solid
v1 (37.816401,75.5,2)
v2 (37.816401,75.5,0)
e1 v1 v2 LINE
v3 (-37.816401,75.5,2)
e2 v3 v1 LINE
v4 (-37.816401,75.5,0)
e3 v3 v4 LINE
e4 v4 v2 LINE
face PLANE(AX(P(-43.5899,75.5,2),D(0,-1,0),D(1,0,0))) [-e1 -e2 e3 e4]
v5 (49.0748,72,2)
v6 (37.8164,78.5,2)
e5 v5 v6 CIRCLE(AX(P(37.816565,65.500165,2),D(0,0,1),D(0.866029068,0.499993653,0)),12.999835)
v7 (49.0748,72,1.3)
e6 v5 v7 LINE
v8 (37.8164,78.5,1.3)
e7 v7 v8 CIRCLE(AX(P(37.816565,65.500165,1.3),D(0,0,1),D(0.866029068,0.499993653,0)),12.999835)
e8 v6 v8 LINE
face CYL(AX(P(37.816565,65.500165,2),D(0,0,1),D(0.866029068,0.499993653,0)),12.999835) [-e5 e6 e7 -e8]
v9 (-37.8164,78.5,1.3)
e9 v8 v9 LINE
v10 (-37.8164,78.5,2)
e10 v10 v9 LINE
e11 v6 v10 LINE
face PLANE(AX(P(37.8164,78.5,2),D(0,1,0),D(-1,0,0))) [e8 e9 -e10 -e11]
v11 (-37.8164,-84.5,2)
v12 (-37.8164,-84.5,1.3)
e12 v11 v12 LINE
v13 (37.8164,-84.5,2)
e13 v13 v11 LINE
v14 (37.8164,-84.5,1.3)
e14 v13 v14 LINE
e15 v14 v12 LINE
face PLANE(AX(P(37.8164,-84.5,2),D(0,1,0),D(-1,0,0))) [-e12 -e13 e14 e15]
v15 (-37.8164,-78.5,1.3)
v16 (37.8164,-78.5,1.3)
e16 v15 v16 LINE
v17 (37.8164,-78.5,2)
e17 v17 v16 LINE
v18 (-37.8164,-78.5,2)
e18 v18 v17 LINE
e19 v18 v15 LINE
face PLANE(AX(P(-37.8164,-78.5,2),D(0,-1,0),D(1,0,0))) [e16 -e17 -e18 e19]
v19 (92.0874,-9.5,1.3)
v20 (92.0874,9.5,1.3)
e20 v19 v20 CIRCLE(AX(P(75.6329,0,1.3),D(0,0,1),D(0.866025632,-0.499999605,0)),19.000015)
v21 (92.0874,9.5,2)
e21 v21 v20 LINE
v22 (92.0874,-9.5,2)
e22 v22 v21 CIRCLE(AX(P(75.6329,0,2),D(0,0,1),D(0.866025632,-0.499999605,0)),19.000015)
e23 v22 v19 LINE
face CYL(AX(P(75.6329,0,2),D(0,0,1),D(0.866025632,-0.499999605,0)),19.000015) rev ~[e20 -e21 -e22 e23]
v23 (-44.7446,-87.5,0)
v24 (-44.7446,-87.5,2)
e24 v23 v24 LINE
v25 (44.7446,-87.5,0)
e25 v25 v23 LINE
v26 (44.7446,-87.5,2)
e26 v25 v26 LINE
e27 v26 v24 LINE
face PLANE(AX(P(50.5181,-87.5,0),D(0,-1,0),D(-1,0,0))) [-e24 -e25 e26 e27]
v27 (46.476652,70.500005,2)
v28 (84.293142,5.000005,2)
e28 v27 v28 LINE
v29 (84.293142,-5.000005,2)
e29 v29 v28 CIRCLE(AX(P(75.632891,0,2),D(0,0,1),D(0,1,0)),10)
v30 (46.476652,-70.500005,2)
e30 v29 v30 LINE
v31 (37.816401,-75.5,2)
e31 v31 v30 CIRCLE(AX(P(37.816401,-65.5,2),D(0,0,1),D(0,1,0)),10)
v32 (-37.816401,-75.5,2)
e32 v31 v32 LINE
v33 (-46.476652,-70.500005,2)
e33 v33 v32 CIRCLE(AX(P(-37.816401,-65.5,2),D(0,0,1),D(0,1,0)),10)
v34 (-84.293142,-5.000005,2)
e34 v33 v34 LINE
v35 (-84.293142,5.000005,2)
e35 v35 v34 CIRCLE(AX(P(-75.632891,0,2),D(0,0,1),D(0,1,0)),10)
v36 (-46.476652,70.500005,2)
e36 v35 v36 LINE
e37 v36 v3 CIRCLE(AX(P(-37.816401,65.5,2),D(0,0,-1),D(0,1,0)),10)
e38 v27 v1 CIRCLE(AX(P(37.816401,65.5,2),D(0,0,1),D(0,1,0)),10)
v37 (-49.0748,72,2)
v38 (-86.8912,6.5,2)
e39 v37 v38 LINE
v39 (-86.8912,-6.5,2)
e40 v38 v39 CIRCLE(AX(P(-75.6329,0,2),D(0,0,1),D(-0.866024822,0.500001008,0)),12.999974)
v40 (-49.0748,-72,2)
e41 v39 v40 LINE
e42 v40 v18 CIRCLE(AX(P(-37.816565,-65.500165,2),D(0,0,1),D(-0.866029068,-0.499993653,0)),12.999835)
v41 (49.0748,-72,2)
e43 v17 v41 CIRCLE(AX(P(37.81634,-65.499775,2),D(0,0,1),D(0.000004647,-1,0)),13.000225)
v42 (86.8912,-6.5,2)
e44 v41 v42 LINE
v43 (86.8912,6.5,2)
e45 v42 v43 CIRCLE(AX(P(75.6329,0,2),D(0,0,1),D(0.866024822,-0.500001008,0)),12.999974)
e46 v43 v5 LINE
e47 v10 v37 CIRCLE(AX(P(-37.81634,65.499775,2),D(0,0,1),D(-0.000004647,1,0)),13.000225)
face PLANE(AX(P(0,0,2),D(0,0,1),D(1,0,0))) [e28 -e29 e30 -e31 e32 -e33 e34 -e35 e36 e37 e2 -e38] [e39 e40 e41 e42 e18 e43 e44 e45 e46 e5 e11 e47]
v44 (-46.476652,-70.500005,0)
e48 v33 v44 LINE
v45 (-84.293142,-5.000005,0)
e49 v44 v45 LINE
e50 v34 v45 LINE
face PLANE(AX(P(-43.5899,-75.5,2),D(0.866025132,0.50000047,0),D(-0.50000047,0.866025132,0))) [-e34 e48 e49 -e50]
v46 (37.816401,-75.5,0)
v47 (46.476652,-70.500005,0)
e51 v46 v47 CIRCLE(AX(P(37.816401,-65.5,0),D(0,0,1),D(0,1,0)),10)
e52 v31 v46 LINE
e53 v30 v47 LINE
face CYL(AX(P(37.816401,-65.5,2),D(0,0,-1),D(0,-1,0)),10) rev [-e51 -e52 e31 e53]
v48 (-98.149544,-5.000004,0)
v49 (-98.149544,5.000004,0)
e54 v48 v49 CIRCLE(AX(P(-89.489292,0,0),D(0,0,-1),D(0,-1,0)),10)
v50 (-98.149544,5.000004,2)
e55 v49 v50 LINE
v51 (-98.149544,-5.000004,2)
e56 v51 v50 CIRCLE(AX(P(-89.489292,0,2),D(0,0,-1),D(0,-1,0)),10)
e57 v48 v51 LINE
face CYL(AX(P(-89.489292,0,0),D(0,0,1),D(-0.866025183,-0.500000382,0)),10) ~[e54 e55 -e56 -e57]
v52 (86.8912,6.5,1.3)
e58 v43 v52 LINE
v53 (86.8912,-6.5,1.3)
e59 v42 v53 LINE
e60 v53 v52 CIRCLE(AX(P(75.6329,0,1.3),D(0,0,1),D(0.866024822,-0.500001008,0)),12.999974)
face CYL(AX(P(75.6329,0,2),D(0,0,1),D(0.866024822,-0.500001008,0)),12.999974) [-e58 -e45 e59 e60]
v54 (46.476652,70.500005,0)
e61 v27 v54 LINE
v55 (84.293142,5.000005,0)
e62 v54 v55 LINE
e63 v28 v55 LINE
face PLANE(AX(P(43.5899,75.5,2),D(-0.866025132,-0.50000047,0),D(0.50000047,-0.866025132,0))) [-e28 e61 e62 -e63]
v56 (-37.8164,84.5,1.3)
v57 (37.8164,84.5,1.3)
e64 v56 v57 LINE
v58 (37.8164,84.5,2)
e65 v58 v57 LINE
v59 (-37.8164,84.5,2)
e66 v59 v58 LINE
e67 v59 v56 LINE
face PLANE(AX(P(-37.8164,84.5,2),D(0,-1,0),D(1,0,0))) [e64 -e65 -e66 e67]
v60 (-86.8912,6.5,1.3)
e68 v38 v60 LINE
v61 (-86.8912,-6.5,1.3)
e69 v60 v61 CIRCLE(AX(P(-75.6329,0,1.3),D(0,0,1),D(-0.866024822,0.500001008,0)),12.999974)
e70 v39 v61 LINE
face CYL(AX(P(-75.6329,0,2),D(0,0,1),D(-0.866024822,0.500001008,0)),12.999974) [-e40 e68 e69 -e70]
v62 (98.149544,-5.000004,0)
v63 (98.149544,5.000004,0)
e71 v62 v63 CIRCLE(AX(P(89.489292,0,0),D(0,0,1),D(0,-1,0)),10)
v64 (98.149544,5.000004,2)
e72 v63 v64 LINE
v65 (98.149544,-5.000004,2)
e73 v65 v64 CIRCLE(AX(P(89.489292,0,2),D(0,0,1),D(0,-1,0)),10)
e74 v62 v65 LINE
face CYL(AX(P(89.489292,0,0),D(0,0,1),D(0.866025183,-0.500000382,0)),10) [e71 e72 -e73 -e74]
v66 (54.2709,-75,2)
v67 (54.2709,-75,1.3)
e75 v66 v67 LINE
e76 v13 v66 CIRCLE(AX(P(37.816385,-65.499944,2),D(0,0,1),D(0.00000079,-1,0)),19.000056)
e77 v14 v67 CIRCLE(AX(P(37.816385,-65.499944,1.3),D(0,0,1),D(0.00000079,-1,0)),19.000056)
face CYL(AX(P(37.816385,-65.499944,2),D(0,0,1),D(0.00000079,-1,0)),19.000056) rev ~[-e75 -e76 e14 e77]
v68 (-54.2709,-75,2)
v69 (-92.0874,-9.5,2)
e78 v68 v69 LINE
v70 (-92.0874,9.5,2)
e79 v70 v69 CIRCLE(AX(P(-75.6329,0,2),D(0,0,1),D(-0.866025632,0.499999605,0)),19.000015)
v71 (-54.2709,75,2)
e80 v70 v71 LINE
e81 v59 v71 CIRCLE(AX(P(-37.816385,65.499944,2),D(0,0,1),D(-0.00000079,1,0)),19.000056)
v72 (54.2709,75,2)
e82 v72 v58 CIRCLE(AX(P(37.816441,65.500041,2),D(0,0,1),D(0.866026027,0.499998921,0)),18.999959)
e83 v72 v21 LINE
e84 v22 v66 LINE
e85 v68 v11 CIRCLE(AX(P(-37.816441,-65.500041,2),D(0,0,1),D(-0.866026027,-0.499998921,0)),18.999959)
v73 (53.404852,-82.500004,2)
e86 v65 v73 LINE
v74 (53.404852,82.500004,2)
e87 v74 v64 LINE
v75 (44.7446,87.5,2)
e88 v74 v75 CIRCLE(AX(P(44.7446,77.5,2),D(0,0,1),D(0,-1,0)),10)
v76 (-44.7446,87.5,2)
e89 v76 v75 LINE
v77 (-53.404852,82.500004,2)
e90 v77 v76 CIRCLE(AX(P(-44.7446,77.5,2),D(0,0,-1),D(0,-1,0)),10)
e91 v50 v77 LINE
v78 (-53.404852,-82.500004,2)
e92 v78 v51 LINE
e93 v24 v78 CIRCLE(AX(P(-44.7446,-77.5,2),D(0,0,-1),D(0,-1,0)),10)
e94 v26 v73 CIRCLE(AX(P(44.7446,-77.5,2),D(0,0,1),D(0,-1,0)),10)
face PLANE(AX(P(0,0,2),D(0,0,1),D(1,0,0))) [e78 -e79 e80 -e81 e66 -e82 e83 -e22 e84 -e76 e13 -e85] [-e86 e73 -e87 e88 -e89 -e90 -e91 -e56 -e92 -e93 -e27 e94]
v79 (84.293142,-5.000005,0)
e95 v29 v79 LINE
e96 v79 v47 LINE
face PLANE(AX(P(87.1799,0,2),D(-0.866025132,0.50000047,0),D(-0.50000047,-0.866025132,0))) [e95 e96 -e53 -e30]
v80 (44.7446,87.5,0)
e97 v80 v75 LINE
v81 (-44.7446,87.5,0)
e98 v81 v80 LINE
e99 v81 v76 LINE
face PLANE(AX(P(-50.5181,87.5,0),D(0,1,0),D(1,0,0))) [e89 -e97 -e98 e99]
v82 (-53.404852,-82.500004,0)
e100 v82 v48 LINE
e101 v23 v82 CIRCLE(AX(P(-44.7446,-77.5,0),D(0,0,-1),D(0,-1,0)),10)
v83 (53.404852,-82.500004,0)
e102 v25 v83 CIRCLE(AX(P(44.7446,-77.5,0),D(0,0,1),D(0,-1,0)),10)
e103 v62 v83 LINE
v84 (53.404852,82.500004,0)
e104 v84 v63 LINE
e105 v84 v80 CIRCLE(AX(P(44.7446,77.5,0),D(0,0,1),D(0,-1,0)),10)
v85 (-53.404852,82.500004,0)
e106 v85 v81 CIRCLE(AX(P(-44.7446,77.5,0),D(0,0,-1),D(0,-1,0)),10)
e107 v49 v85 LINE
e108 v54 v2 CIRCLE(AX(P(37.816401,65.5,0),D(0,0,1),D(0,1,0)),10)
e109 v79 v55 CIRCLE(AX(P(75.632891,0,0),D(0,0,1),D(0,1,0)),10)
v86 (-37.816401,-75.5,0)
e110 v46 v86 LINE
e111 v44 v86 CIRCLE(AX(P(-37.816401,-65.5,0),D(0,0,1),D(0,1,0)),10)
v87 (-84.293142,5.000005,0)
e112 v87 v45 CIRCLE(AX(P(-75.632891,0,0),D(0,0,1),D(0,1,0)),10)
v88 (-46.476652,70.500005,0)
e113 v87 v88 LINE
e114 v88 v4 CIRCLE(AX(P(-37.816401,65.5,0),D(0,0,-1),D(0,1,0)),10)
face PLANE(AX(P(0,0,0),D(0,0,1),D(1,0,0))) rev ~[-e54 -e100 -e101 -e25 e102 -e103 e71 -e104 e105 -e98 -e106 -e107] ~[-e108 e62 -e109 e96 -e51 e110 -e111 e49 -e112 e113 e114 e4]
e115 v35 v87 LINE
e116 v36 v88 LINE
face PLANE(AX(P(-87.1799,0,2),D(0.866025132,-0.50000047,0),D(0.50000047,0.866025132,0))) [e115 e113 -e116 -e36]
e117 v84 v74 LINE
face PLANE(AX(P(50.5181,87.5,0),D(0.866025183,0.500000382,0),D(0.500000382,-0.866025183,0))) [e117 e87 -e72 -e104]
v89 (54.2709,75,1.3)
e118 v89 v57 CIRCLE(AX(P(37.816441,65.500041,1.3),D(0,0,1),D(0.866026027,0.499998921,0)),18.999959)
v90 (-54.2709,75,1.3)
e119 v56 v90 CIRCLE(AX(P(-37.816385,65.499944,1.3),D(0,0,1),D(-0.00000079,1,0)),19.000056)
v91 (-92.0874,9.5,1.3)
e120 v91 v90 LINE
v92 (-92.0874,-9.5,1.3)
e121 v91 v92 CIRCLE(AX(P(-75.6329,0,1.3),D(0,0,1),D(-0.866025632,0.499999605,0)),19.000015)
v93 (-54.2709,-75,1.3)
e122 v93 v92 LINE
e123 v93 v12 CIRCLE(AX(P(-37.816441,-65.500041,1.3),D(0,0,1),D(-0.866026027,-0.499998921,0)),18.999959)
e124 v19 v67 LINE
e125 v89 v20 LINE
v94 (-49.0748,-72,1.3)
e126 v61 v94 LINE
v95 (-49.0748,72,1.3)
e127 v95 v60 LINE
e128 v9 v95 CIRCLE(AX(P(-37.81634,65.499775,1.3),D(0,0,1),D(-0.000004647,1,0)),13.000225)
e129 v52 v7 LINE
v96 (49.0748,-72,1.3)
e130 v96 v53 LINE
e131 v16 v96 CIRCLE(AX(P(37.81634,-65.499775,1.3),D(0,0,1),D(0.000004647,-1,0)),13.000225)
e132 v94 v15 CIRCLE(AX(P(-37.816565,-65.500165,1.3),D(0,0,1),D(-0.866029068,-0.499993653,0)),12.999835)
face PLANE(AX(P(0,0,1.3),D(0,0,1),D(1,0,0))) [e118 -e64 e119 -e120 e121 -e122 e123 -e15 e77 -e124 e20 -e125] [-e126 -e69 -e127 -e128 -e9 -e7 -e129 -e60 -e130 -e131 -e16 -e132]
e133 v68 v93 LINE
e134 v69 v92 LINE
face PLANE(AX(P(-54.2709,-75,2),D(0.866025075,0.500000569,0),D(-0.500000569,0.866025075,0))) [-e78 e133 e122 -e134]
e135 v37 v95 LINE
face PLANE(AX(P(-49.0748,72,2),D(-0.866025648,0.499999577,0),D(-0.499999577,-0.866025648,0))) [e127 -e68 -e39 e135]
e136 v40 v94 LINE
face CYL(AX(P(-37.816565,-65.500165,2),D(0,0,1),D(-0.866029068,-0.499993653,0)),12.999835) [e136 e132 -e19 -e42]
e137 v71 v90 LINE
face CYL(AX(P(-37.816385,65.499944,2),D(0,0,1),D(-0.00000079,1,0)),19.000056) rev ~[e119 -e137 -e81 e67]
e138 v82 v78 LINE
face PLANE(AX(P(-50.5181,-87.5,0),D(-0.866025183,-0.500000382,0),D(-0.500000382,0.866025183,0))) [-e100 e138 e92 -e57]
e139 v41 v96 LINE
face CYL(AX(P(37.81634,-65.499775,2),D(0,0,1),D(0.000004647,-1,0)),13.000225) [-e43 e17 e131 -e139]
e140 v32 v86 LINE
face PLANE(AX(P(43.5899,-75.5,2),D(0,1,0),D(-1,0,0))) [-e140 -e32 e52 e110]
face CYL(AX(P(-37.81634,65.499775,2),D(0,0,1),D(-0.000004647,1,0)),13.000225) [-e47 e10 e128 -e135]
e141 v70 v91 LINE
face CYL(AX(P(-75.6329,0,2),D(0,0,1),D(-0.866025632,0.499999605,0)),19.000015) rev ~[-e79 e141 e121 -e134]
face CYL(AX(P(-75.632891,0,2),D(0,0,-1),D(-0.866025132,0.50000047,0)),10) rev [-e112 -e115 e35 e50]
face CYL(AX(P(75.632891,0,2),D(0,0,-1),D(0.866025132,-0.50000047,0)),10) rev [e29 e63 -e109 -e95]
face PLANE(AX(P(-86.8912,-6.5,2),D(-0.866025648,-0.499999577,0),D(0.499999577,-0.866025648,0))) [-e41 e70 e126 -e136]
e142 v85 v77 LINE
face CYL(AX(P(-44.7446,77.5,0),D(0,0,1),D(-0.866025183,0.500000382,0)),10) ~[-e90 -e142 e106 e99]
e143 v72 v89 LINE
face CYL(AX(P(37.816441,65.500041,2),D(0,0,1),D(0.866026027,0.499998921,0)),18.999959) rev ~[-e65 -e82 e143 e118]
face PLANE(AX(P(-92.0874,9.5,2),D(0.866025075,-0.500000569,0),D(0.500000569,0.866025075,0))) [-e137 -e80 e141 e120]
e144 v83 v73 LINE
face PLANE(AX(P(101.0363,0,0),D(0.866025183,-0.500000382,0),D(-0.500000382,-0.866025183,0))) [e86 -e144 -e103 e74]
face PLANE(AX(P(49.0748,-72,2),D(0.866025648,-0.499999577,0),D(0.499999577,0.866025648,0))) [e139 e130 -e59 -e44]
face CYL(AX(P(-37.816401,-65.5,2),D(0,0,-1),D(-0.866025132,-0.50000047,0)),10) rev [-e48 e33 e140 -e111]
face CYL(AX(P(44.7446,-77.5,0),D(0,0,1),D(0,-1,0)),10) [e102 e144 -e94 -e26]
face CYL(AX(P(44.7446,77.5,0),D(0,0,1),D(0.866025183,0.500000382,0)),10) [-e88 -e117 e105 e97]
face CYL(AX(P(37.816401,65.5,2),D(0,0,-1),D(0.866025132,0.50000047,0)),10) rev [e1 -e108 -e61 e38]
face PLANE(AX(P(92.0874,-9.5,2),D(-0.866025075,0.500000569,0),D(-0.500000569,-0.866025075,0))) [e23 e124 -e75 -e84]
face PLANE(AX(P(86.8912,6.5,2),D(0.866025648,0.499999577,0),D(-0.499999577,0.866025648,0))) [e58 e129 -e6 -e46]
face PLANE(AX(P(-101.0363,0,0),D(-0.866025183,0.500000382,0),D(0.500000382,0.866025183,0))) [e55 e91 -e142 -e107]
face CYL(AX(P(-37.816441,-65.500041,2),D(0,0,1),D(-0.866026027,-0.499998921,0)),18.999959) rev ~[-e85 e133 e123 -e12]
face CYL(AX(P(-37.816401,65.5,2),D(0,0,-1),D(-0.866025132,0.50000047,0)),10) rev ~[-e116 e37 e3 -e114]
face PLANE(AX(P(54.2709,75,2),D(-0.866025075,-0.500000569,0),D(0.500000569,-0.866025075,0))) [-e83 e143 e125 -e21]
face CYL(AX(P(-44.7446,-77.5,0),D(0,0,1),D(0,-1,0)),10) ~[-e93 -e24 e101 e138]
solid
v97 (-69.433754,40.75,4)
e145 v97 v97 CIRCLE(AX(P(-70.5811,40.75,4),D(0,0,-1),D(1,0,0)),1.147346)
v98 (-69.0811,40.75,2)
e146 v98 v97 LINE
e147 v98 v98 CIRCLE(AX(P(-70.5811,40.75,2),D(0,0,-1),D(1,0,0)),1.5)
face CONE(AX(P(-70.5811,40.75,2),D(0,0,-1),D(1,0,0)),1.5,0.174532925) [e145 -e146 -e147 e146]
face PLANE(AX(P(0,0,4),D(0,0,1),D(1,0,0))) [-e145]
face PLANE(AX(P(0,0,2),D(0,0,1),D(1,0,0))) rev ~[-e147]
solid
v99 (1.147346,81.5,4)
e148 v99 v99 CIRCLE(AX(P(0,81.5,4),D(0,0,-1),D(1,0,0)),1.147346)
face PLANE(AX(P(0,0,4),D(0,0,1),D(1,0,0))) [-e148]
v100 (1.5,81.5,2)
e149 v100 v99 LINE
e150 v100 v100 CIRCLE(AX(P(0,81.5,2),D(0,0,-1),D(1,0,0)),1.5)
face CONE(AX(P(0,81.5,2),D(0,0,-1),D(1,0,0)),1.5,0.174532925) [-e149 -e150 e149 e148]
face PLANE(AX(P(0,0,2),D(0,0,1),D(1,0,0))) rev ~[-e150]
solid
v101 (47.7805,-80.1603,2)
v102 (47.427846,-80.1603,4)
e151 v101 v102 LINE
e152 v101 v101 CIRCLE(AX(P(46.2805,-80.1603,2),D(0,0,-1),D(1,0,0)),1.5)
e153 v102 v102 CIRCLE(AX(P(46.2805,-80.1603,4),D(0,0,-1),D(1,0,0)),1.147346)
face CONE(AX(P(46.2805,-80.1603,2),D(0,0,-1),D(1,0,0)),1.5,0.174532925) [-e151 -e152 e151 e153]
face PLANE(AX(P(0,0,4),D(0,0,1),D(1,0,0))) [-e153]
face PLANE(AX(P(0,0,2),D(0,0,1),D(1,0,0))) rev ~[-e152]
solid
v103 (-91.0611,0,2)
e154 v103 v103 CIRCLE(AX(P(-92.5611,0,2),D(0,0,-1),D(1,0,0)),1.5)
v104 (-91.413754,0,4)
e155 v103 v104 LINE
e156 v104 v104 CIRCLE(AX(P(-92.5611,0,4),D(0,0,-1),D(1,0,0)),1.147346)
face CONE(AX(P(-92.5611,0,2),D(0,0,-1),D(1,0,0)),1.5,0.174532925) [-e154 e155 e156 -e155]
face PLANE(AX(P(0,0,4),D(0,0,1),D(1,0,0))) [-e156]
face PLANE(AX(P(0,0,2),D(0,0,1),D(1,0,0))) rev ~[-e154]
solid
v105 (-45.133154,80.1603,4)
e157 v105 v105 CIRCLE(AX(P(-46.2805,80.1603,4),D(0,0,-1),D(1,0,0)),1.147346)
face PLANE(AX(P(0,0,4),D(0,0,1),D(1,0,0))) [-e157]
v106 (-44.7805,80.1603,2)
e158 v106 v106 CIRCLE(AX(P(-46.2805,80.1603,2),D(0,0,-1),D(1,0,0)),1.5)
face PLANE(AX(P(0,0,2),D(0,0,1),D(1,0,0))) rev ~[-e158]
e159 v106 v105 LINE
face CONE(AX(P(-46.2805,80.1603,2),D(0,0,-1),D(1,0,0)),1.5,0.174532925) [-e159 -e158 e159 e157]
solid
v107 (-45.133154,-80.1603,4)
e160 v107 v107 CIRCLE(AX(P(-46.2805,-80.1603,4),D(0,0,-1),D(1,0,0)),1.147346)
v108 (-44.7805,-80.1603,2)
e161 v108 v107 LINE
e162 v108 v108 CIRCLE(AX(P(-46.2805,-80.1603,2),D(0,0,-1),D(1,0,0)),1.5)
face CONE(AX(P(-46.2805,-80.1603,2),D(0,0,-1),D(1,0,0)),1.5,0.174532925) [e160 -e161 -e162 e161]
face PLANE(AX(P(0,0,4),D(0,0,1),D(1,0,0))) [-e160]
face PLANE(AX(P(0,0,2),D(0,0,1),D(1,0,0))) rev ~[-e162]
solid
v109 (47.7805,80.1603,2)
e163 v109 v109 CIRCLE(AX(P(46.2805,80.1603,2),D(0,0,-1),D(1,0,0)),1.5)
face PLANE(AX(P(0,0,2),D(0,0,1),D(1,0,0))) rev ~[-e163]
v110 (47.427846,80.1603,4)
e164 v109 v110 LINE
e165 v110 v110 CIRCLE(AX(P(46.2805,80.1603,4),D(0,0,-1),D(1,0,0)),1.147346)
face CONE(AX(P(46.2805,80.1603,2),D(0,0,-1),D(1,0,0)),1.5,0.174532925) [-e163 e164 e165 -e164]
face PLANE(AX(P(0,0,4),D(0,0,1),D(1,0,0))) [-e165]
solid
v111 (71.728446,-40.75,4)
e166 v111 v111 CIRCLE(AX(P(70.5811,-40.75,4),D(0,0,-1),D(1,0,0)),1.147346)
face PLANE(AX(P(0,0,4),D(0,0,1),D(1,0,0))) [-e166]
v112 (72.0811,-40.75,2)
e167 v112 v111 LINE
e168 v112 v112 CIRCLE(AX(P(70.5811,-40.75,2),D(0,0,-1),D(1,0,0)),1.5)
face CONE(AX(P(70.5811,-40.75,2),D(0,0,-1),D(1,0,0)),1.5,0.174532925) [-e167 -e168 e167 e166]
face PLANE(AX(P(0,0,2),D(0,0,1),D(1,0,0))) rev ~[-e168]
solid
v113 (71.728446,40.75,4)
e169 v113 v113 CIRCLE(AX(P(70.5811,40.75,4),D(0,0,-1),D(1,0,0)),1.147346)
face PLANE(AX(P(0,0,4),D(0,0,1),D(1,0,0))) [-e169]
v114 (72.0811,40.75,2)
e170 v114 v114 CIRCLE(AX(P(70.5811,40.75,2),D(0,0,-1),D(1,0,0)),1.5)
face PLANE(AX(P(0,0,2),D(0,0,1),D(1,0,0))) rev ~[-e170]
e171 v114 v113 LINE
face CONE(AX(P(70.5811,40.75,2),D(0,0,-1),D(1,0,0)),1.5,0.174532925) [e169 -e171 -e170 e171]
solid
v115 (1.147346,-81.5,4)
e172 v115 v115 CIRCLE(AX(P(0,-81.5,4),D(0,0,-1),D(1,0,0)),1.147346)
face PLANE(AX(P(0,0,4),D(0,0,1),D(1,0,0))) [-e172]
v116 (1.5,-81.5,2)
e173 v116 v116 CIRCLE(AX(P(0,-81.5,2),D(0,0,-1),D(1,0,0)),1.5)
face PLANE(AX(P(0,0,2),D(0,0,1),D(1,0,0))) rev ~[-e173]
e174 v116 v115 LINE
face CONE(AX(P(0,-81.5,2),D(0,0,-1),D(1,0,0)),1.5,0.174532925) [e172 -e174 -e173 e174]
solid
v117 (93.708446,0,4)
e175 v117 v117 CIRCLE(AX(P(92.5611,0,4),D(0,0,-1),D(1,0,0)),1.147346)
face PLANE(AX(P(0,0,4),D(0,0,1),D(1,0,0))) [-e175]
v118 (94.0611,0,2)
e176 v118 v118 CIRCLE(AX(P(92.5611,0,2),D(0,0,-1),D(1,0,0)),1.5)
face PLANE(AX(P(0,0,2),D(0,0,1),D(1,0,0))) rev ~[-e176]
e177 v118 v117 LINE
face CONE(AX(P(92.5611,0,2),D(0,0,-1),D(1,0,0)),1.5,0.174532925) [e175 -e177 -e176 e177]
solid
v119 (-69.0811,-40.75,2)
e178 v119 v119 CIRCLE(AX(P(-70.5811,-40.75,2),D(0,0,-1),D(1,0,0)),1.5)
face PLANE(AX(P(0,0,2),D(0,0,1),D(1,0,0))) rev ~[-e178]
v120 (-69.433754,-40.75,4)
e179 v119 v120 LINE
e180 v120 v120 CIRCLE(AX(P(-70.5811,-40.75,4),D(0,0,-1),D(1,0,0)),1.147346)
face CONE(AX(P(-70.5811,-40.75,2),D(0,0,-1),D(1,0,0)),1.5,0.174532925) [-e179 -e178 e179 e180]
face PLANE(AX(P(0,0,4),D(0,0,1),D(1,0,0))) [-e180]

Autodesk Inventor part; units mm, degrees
ref_plane "YZ Plane" through (0, 0, 0) normal (1, 0, 0) x (0, 1, 0)
ref_plane "XZ Plane" through (0, 0, 0) normal (0, 1, 0) x (-1, 0, 0)
ref_plane "XY Plane" through (0, 0, 0) normal (0, 0, 1) x (1, 0, 0)
sketch "Sketch1" plane through (0, 0, 0) normal (0, 0, 1) x (1, 0, 0)
  line L0 (50.5181, -87.5) -> (-50.5181, -87.5)
  line L1 (-50.5181, -87.5) -> (-101.0363, 0)
  line L2 (-101.0363, 0) -> (-50.5181, 87.5)
  line L3 (-50.5181, 87.5) -> (50.5181, 87.5)
  line L4 (50.5181, 87.5) -> (101.0363, 0)
  line L5 (101.0363, 0) -> (50.5181, -87.5)
  point P0 (0, 0)
  point P1 (0, 0)
  dimension "d0" = 175
extrude "Extrusion1" add sketch "Sketch1" along normal blind 2
sketch "Sketch7" plane through (0, 0, 2) normal (0, 0, 1) x (1, 0, 0)
  line L0 (-50.5181, -87.5) -> (50.5181, -87.5) projected
  line L1 (50.5181, -87.5) -> (101.0363, 0) projected
  line L2 (101.0363, 0) -> (50.5181, 87.5) projected
  line L3 (50.5181, 87.5) -> (-50.5181, 87.5) projected
  line L4 (-50.5181, 87.5) -> (-101.0363, 0) projected
  line L5 (-101.0363, 0) -> (-50.5181, -87.5) projected
  line L6 (-43.5899, 75.5) -> (43.5899, 75.5)
  line L7 (43.5899, 75.5) -> (87.1799, 0)
  line L8 (87.1799, 0) -> (43.5899, -75.5)
  line L9 (43.5899, -75.5) -> (-43.5899, -75.5)
  line L10 (-43.5899, -75.5) -> (-87.1799, 0)
  line L11 (-87.1799, 0) -> (-43.5899, 75.5)
  dimension "d26" = 12
extrude "Extrusion6" cut sketch "Sketch7" against normal blind 7 contours L6 L7 L8 L9 L10 L11
fillet "Fillet2" radius 10 6 edges at (-87.1799, 0, 1) (-43.5899, -75.5, 1) (43.5899, -75.5, 1) (87.1799, 0, 1) (43.5899, 75.5, 1) (-43.5899, 75.5, 1)
fillet "Fillet3" radius 10 6 edges at (-50.5181, 87.5, 1) (50.5181, 87.5, 1) (101.0363, 0, 1) (50.5181, -87.5, 1) (-50.5181, -87.5, 1) (-101.0363, 0, 1)
sketch "Sketch9" plane through (0, 0, 2) normal (0, 0, 1) x (1, 0, 0)
  arc A0 (-98.1495, 5) -> (-98.1495, -5) centre (-89.4893, 0) ccw projected
  line L0 (-98.1495, -5) -> (-53.4049, -82.5) projected
  arc A1 (-53.4049, -82.5) -> (-44.7446, -87.5) centre (-44.7446, -77.5) ccw projected
  line L1 (-44.7446, -87.5) -> (44.7446, -87.5) projected
  arc A2 (44.7446, -87.5) -> (53.4049, -82.5) centre (44.7446, -77.5) ccw projected
  line L2 (53.4049, -82.5) -> (98.1495, -5) projected
  arc A3 (98.1495, -5) -> (98.1495, 5) centre (89.4893, 0) ccw projected
  line L3 (98.1495, 5) -> (53.4049, 82.5) projected
  arc A4 (53.4049, 82.5) -> (44.7446, 87.5) centre (44.7446, 77.5) ccw projected
  line L4 (44.7446, 87.5) -> (-44.7446, 87.5) projected
  arc A5 (-44.7446, 87.5) -> (-53.4049, 82.5) centre (-44.7446, 77.5) ccw projected
  line L5 (-53.4049, 82.5) -> (-98.1495, 5) projected
  line L6 (-84.2931, 5) -> (-46.4767, 70.5) projected
  arc A6 (-37.8164, 75.5) -> (-46.4767, 70.5) centre (-37.8164, 65.5) ccw projected
  line L7 (-37.8164, 75.5) -> (37.8164, 75.5) projected
  arc A7 (46.4767, 70.5) -> (37.8164, 75.5) centre (37.8164, 65.5) ccw projected
  line L8 (46.4767, 70.5) -> (84.2931, 5) projected
  arc A8 (84.2931, -5) -> (84.2931, 5) centre (75.6329, 0) ccw projected
  line L9 (84.2931, -5) -> (46.4767, -70.5) projected
  arc A9 (37.8164, -75.5) -> (46.4767, -70.5) centre (37.8164, -65.5) ccw projected
  line L10 (37.8164, -75.5) -> (-37.8164, -75.5) projected
  arc A10 (-46.4767, -70.5) -> (-37.8164, -75.5) centre (-37.8164, -65.5) ccw projected
  line L11 (-46.4767, -70.5) -> (-84.2931, -5) projected
  arc A11 (-84.2931, 5) -> (-84.2931, -5) centre (-75.6329, 0) ccw projected
  line L12 (-85.6329, 0) -> (-99.4893, 0) construction
  line L13 (-75.7772, 43.75) -> (-65.3849, 37.75) construction
  line L14 (-84.2931, 5) -> (-46.4767, 70.5) projected
  circle A12 centre (0, 81.5) radius 1.5
  circle A13 centre (-70.5811, 40.75) radius 1.5
  circle A14 centre (-92.5611, 0) radius 1.5
  circle A15 centre (70.5811, 40.75) radius 1.5
  circle A16 centre (0, 81.5) radius 1.5
  circle A17 centre (-46.2805, 80.1603) radius 1.5
  circle A18 centre (70.5811, -40.75) radius 1.5
  circle A19 centre (70.5811, 40.75) radius 1.5
  circle A20 centre (46.2805, 80.1603) radius 1.5
  circle A21 centre (0, -81.5) radius 1.5
  circle A22 centre (70.5811, -40.75) radius 1.5
  circle A23 centre (92.5611, 0) radius 1.5
  circle A24 centre (-70.5811, -40.75) radius 1.5
  circle A25 centre (0, -81.5) radius 1.5
  circle A26 centre (46.2805, -80.1603) radius 1.5
  circle A27 centre (-70.5811, 40.75) radius 1.5
  circle A28 centre (-70.5811, -40.75) radius 1.5
  circle A29 centre (-46.2805, -80.1603) radius 1.5
  point P0 (0, 0)
  point P1 (-70.5811, 40.75)
  dimension "d44" = 3
  dimension "d58" = 360
extrude "Extrusion8" add sketch "Sketch9" along normal blind 2 draft -10 contours A12 | A13 | A14 | A15 | A17 | A18 | A20 | A21 | A23 | A24 | A26 | A29
sketch "Sketch10" plane through (0, 0, 2) normal (0, 0, 1) x (1, 0, 0)
  arc A0 (-98.1495, 5) -> (-98.1495, -5) centre (-89.4893, 0) ccw projected
  line L0 (-98.1495, -5) -> (-53.4049, -82.5) projected
  arc A1 (-53.4049, -82.5) -> (-44.7446, -87.5) centre (-44.7446, -77.5) ccw projected
  line L1 (-44.7446, -87.5) -> (44.7446, -87.5) projected
  arc A2 (44.7446, -87.5) -> (53.4049, -82.5) centre (44.7446, -77.5) ccw projected
  line L2 (53.4049, -82.5) -> (98.1495, -5) projected
  arc A3 (98.1495, -5) -> (98.1495, 5) centre (89.4893, 0) ccw projected
  line L3 (98.1495, 5) -> (53.4049, 82.5) projected
  arc A4 (53.4049, 82.5) -> (44.7446, 87.5) centre (44.7446, 77.5) ccw projected
  line L4 (44.7446, 87.5) -> (-44.7446, 87.5) projected
  arc A5 (-44.7446, 87.5) -> (-53.4049, 82.5) centre (-44.7446, 77.5) ccw projected
  line L5 (-53.4049, 82.5) -> (-98.1495, 5) projected
  line L6 (-84.2931, 5) -> (-46.4767, 70.5) projected
  arc A6 (-37.8164, 75.5) -> (-46.4767, 70.5) centre (-37.8164, 65.5) ccw projected
  line L7 (-37.8164, 75.5) -> (37.8164, 75.5) projected
  arc A7 (46.4767, 70.5) -> (37.8164, 75.5) centre (37.8164, 65.5) ccw projected
  line L8 (46.4767, 70.5) -> (84.2931, 5) projected
  arc A8 (84.2931, -5) -> (84.2931, 5) centre (75.6329, 0) ccw projected
  line L9 (84.2931, -5) -> (46.4767, -70.5) projected
  arc A9 (37.8164, -75.5) -> (46.4767, -70.5) centre (37.8164, -65.5) ccw projected
  line L10 (37.8164, -75.5) -> (-37.8164, -75.5) projected
  arc A10 (-46.4767, -70.5) -> (-37.8164, -75.5) centre (-37.8164, -65.5) ccw projected
  line L11 (-46.4767, -70.5) -> (-84.2931, -5) projected
  arc A11 (-84.2931, 5) -> (-84.2931, -5) centre (-75.6329, 0) ccw projected
  line L12 (37.8164, 78.5) -> (-37.8164, 78.5)
  arc A12 (-37.8164, 78.5) -> (-49.0748, 72) centre (-37.8164, 65.5) ccw
  line L13 (-49.0748, 72) -> (-86.8912, 6.5)
  arc A13 (-86.8912, 6.5) -> (-86.8912, -6.5) centre (-75.6329, 0) ccw
  line L14 (-86.8912, -6.5) -> (-49.0748, -72)
  arc A14 (-49.0748, -72) -> (-37.8164, -78.5) centre (-37.8164, -65.5) ccw
  line L15 (-37.8164, -78.5) -> (37.8164, -78.5)
  arc A15 (37.8164, -78.5) -> (49.0748, -72) centre (37.8164, -65.5) ccw
  line L16 (49.0748, -72) -> (86.8912, -6.5)
  arc A16 (86.8912, -6.5) -> (86.8912, 6.5) centre (75.6329, 0) ccw
  line L17 (86.8912, 6.5) -> (49.0748, 72)
  arc A17 (49.0748, 72) -> (37.8164, 78.5) centre (37.8164, 65.5) ccw
  line L18 (-37.8164, 84.5) -> (37.8164, 84.5)
  arc A18 (54.2709, 75) -> (37.8164, 84.5) centre (37.8164, 65.5) ccw
  line L19 (54.2709, 75) -> (92.0874, 9.5)
  arc A19 (92.0874, -9.5) -> (92.0874, 9.5) centre (75.6329, 0) ccw
  line L20 (92.0874, -9.5) -> (54.2709, -75)
  arc A20 (37.8164, -84.5) -> (54.2709, -75) centre (37.8164, -65.5) ccw
  line L21 (37.8164, -84.5) -> (-37.8164, -84.5)
  arc A21 (-54.2709, -75) -> (-37.8164, -84.5) centre (-37.8164, -65.5) ccw
  line L22 (-54.2709, -75) -> (-92.0874, -9.5)
  arc A22 (-92.0874, 9.5) -> (-92.0874, -9.5) centre (-75.6329, 0) ccw
  line L23 (-92.0874, 9.5) -> (-54.2709, 75)
  arc A23 (-37.8164, 84.5) -> (-54.2709, 75) centre (-37.8164, 65.5) ccw
  point P0 (0, 0)
  dimension "d52" = 3
  dimension "d53" = 6
extrude "Extrusion9" cut sketch "Sketch10" against normal blind 0.7 contours L18 A18 L19 A19 L20 A20 L21 A21 L22 A22 L23 A23
properties part number "Flat Placeholder v1 - 175 - 12mm rim"
